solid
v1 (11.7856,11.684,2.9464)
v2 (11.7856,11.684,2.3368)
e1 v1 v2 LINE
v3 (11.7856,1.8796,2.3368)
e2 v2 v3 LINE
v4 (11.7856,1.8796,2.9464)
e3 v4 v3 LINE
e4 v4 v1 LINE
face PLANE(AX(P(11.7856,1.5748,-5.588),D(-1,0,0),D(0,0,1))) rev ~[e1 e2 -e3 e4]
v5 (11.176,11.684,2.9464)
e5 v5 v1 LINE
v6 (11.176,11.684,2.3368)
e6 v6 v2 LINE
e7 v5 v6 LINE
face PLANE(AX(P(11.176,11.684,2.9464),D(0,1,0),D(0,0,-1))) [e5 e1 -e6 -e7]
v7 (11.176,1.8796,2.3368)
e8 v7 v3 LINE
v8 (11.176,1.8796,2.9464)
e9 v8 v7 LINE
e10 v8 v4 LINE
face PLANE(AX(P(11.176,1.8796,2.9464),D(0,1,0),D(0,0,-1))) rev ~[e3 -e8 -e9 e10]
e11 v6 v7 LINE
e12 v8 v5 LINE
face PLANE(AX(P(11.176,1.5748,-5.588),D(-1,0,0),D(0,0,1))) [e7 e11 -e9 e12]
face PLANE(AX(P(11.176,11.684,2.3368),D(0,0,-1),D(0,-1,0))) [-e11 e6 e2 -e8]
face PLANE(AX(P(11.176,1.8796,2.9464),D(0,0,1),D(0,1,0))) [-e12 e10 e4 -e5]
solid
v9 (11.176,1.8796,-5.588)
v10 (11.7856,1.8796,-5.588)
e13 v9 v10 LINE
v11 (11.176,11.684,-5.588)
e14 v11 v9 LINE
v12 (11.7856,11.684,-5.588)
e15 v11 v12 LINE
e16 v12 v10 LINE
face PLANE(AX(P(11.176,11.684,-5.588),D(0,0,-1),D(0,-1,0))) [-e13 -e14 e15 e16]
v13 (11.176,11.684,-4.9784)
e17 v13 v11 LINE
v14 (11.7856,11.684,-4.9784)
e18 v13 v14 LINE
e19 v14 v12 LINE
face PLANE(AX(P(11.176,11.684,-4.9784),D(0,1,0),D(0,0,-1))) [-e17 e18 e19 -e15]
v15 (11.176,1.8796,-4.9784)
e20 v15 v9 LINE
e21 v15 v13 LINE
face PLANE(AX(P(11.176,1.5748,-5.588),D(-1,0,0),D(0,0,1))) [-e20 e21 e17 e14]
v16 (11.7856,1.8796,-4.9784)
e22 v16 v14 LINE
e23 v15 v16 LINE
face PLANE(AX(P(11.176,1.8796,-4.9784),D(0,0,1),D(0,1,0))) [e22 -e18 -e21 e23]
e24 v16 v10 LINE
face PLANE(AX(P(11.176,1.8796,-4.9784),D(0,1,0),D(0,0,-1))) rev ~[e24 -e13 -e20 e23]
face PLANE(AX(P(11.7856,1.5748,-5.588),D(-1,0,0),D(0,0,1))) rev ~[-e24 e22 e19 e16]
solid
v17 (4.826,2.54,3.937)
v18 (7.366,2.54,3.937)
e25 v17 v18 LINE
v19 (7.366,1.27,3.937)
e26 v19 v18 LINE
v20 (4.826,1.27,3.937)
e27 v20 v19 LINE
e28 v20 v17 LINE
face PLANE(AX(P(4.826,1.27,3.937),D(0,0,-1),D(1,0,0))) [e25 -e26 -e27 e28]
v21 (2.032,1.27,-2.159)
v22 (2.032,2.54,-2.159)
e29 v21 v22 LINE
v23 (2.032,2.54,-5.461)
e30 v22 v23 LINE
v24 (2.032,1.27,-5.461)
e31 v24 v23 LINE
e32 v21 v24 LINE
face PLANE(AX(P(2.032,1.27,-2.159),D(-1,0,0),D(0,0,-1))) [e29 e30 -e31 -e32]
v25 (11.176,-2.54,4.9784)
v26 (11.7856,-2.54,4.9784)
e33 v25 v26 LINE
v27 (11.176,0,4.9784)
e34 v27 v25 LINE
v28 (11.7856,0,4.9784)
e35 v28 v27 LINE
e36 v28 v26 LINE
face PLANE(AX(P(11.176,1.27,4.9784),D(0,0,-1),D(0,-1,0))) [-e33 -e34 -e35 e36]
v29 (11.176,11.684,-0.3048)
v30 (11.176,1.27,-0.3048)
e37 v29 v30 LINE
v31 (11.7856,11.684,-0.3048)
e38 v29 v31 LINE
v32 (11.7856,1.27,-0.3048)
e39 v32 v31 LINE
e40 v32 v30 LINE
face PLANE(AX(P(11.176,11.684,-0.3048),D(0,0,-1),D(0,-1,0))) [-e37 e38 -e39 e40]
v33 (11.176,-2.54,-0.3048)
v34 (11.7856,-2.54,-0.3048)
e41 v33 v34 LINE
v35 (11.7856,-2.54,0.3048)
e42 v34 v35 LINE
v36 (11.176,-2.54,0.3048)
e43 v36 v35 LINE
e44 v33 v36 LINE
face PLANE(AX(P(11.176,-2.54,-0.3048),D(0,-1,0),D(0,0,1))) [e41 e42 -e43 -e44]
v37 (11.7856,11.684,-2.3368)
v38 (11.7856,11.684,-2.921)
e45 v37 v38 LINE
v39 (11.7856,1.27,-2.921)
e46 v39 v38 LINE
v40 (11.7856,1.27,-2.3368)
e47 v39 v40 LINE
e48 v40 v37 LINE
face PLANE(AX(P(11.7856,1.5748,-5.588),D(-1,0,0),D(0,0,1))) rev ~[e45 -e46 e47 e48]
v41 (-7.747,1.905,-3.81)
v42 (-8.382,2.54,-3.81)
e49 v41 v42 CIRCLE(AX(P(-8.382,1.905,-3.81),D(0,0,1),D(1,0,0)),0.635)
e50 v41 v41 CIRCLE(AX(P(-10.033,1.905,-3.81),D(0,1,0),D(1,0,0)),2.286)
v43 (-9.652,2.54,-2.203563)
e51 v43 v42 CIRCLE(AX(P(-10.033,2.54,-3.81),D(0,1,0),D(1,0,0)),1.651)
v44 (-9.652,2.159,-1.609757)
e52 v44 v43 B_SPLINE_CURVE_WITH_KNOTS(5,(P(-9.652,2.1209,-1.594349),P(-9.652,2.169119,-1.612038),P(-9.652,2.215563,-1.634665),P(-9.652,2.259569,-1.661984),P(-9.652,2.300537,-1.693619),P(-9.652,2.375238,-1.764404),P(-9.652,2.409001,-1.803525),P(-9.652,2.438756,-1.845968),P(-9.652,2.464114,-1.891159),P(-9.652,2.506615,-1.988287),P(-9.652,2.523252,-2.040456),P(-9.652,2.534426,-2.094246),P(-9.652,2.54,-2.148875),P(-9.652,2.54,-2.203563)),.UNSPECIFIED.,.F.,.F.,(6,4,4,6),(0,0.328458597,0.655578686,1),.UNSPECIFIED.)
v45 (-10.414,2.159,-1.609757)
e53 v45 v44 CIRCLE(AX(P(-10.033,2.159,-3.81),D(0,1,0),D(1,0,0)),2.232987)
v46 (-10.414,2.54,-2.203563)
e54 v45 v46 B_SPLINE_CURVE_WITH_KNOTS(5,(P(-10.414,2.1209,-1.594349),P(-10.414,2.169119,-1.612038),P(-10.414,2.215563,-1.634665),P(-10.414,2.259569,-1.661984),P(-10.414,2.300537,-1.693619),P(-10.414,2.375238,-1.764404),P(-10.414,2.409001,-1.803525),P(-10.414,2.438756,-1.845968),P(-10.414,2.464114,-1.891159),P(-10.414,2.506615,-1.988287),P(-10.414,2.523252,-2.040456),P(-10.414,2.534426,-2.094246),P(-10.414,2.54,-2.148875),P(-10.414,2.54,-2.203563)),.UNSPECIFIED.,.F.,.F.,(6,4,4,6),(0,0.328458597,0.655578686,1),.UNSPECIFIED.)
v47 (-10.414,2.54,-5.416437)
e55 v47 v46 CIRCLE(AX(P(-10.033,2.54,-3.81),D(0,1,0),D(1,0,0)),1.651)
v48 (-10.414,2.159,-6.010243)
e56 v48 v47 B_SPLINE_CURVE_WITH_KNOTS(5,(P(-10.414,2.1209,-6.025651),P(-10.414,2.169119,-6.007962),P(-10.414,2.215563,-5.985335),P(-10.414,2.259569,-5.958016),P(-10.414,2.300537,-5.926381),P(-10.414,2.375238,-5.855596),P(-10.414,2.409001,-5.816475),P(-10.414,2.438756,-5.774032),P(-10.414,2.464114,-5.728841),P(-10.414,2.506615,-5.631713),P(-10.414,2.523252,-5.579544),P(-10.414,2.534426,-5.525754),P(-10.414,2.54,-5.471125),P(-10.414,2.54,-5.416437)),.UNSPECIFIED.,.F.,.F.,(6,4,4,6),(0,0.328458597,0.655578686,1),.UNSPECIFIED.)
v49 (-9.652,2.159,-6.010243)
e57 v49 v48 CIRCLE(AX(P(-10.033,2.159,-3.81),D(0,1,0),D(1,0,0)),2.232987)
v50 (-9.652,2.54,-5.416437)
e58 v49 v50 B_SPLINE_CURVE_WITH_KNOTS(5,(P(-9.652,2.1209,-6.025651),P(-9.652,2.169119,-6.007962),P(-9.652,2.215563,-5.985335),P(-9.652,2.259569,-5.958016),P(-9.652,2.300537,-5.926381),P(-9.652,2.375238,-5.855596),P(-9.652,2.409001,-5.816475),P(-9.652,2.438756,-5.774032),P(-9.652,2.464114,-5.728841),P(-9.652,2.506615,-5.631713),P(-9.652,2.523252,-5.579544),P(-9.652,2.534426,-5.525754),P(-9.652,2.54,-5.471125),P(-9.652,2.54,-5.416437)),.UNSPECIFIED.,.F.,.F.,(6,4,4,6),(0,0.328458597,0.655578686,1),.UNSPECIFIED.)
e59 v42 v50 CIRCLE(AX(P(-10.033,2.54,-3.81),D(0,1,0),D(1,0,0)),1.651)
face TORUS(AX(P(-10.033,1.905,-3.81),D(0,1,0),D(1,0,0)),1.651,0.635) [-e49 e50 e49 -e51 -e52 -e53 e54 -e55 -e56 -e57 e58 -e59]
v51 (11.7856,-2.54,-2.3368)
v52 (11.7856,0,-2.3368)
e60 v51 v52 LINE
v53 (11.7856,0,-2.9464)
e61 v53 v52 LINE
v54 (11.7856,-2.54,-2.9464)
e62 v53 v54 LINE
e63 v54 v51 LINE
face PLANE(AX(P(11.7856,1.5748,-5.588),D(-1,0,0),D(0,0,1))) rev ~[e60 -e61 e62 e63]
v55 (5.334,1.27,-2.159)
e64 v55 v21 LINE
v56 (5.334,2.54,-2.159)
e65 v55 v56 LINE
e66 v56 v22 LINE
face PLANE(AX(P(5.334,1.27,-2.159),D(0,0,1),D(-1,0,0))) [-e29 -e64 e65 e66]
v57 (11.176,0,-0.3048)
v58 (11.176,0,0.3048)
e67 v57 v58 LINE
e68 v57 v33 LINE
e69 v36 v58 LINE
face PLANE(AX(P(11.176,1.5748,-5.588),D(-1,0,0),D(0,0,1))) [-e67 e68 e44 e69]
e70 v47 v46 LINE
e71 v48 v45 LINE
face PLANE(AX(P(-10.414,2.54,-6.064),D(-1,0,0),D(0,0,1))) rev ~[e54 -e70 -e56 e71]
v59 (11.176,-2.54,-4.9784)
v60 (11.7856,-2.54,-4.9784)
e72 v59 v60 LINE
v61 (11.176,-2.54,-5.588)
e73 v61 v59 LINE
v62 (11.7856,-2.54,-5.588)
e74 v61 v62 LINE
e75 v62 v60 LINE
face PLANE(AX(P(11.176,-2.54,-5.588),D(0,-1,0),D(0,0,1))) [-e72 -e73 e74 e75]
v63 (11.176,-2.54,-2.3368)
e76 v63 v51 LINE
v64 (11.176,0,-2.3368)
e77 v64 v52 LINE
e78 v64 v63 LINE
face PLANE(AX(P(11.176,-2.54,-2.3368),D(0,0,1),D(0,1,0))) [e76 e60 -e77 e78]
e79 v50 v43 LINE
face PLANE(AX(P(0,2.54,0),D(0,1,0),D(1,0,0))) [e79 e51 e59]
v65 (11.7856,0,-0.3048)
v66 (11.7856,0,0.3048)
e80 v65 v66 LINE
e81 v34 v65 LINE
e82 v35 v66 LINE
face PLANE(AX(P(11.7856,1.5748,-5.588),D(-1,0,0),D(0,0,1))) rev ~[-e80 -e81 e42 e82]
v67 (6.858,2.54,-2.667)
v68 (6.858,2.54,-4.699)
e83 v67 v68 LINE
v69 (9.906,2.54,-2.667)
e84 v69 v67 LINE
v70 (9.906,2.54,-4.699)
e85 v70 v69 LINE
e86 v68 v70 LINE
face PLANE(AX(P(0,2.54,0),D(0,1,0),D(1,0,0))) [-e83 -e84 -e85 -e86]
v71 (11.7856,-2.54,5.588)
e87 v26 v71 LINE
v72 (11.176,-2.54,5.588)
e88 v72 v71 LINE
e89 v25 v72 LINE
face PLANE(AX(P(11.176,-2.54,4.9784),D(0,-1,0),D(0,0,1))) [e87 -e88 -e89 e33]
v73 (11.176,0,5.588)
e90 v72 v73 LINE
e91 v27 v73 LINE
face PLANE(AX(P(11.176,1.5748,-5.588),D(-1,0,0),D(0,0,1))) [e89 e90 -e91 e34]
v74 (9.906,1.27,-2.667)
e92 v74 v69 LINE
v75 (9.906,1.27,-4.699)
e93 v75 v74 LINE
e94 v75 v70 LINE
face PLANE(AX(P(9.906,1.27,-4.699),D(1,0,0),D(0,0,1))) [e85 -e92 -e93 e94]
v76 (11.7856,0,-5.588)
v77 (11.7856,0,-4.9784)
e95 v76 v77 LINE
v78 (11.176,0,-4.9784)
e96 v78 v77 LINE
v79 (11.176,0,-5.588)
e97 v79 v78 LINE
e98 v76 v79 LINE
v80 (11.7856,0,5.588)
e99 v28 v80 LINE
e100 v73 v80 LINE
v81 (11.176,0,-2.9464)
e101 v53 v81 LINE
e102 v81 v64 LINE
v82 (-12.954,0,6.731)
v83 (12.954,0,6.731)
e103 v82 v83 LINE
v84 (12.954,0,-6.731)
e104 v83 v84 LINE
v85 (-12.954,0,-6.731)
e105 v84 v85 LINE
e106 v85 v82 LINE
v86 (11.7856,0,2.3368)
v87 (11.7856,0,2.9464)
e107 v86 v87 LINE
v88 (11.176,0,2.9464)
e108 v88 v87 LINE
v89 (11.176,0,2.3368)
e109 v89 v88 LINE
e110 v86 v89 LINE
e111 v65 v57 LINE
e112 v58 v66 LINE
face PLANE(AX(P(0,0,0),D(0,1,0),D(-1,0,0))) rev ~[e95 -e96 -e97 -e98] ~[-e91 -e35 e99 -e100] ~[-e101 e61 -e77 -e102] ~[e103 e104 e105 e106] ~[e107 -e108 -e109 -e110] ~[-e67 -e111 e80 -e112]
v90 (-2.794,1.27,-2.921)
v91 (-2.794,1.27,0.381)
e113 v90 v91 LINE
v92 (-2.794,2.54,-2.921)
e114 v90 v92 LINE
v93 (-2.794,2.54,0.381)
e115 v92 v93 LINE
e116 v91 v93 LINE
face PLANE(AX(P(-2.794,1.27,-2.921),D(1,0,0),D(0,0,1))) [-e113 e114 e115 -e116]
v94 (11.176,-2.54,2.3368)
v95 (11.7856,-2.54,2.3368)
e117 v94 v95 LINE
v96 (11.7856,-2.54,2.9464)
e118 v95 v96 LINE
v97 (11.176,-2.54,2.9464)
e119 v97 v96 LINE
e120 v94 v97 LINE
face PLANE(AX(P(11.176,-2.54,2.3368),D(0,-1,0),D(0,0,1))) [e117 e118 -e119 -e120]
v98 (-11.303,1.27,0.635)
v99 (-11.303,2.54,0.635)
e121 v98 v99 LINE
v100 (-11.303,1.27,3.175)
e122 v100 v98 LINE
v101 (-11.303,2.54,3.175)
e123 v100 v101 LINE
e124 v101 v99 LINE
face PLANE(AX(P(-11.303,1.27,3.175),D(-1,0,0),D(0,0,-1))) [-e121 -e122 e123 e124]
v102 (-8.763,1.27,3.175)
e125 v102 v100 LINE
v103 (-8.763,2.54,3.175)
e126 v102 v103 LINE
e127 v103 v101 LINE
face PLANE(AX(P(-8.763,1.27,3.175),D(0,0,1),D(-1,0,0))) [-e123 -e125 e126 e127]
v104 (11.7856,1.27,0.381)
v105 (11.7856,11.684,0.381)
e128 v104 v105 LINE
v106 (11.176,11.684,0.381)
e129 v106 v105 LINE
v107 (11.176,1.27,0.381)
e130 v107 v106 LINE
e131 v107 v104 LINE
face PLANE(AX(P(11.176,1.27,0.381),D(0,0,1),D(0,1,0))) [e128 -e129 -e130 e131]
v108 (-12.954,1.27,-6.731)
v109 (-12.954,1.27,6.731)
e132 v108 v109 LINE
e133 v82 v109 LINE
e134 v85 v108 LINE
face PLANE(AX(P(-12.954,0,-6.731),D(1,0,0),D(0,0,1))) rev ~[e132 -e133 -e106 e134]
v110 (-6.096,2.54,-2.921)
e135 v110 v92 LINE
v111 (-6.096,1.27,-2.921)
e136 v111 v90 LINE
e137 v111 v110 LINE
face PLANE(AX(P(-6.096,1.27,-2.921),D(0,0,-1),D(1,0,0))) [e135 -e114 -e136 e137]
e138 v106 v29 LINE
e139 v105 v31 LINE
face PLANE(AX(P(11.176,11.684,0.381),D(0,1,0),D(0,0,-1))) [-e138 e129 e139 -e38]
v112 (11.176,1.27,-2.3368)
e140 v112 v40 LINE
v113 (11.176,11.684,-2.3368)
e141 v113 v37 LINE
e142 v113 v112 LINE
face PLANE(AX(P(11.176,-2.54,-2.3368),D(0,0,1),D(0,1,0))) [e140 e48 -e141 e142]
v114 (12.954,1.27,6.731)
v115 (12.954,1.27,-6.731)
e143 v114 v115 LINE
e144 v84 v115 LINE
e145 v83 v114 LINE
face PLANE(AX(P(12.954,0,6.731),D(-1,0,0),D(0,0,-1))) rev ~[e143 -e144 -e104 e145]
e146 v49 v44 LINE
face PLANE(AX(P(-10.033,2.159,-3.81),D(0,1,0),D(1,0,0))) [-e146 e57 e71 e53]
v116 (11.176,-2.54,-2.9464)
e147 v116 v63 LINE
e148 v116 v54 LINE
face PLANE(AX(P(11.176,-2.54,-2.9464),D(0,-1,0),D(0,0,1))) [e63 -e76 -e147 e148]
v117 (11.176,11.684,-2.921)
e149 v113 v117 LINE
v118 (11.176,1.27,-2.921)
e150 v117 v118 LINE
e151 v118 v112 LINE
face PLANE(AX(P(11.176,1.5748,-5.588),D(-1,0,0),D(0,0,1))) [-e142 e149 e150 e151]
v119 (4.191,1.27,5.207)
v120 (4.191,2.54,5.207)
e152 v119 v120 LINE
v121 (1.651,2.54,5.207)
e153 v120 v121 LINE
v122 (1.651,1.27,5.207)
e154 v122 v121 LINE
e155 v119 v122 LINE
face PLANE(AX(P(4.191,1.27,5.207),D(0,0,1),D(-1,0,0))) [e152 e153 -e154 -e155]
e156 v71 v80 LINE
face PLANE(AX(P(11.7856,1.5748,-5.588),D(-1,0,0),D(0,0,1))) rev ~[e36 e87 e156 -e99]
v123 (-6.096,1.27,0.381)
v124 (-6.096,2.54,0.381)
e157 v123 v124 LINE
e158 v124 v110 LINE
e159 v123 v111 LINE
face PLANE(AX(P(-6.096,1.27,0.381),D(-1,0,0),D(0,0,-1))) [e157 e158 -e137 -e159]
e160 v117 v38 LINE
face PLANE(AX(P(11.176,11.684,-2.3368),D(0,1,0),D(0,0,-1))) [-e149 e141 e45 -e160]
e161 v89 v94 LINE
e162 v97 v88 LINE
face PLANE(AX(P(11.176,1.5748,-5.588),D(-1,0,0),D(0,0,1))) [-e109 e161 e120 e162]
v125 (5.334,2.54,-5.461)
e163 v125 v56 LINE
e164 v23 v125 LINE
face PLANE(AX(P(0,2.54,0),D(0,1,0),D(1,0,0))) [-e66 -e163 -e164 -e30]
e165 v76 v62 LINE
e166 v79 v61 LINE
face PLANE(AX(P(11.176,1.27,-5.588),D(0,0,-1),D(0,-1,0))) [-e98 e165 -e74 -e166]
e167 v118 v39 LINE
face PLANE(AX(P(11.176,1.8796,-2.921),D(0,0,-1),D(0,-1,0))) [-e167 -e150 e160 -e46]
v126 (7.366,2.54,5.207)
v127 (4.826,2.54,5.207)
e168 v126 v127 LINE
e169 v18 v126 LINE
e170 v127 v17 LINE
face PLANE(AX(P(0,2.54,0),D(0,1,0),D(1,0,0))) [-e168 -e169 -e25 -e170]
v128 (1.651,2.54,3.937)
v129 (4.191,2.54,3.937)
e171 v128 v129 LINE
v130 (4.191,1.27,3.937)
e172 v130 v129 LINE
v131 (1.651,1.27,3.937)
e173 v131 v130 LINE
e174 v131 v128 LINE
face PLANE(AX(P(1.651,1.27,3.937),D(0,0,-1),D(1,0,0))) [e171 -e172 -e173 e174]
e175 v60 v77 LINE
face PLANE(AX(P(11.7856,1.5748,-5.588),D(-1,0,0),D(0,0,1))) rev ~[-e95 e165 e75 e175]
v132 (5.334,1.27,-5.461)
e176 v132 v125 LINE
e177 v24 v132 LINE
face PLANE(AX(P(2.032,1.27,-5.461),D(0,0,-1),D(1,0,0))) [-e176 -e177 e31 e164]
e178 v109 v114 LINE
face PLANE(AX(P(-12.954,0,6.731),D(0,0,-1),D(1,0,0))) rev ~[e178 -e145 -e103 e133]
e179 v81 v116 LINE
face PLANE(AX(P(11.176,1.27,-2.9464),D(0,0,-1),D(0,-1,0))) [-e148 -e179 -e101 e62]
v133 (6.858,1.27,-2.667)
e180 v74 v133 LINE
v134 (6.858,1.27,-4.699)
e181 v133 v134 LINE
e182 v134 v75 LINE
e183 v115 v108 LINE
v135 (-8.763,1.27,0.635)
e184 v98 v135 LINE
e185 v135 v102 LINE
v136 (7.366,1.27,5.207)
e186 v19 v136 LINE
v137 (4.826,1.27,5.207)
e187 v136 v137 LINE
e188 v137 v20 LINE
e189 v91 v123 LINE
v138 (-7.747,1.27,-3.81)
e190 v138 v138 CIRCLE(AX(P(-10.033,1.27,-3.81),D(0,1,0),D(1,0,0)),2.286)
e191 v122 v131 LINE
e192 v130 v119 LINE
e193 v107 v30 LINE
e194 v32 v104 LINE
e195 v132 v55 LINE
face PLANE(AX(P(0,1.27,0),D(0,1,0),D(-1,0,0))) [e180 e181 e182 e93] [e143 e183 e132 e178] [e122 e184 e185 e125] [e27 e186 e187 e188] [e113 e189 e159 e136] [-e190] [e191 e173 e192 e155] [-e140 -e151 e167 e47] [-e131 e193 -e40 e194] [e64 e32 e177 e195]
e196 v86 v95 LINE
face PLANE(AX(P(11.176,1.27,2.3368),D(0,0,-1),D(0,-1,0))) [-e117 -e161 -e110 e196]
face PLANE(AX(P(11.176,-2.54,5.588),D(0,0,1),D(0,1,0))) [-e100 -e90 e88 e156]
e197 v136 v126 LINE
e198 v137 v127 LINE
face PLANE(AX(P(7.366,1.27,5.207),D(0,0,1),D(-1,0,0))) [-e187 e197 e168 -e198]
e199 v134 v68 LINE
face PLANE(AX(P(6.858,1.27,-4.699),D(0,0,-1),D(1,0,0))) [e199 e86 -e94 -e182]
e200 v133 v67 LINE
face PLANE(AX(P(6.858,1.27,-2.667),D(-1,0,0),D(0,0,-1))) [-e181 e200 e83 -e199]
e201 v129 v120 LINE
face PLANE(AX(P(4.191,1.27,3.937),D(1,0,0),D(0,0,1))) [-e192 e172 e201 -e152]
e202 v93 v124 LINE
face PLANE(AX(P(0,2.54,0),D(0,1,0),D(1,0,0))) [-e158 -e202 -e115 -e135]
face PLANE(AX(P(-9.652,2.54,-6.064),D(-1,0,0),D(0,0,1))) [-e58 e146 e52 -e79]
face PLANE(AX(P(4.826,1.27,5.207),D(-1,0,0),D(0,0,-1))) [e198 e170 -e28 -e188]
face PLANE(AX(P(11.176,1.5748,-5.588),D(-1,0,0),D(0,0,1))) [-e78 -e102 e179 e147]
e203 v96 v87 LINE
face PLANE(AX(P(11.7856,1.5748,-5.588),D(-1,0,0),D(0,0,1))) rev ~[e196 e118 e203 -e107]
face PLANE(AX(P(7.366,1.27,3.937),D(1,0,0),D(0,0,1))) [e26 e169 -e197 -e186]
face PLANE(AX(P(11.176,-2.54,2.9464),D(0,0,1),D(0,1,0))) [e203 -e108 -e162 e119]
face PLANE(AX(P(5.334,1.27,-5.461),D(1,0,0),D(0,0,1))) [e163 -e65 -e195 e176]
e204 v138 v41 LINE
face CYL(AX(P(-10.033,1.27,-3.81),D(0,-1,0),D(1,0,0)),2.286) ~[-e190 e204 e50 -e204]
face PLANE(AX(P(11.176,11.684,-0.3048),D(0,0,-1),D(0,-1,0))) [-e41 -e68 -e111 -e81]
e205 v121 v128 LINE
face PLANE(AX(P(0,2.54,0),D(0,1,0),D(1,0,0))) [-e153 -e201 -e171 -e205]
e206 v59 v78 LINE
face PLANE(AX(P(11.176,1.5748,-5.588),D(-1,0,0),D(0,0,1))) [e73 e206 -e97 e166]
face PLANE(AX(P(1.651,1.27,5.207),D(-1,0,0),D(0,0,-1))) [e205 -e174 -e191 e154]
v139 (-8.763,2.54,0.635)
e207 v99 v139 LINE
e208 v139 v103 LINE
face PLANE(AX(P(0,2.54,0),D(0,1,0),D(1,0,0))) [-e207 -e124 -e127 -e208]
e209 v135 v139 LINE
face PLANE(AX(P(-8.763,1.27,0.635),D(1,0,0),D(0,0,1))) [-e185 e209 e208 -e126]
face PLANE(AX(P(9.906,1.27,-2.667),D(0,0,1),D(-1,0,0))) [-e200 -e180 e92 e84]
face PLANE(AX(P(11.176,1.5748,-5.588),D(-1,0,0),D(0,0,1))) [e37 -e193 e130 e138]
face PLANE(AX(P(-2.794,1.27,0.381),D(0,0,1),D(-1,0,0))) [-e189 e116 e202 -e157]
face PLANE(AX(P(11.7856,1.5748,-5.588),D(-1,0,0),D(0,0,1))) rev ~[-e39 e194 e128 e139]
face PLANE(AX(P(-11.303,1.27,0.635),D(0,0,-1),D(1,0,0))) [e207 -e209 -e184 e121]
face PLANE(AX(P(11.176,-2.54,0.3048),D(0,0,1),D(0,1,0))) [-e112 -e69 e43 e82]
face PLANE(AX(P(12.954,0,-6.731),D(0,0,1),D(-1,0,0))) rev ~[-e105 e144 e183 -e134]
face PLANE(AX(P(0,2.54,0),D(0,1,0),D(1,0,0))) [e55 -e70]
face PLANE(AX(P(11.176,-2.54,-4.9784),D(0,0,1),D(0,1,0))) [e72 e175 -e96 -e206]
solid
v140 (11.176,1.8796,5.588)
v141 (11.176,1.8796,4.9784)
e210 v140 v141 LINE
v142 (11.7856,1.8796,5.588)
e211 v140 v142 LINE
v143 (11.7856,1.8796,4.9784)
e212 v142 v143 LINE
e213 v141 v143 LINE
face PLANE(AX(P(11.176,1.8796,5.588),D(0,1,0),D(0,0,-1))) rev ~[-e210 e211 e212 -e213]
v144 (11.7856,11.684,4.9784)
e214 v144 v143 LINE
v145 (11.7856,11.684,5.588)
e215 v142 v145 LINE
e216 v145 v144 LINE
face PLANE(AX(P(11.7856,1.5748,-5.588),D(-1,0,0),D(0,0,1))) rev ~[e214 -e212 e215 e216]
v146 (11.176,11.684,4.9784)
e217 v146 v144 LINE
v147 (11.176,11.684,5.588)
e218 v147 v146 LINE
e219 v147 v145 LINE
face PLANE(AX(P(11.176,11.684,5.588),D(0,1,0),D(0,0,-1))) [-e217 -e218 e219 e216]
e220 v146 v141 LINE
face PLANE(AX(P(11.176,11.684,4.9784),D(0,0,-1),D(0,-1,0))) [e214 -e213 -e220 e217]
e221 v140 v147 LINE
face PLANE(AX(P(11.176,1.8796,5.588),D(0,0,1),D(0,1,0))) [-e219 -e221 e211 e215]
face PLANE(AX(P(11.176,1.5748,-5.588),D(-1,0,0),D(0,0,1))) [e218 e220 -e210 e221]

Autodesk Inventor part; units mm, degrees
ref_plane "YZ Plane" through (0, 0, 0) normal (1, 0, 0) x (0, 1, 0)
ref_plane "XZ Plane" through (0, 0, 0) normal (0, 1, 0) x (-1, 0, 0)
sketch "Sketch1" plane through (0, 0, 0) normal (0, 1, 0) x (-1, 0, 0)
  line L0 (12.954, 6.731) -> (-12.954, 6.731)
  line L1 (-12.954, 6.731) -> (-12.954, -6.731)
  line L2 (-12.954, -6.731) -> (12.954, -6.731)
  line L3 (12.954, -6.731) -> (12.954, 6.731)
  point P0 (0, 0)
  point P1 (12.954, 0)
  point P2 (0, -6.731)
  dimension "d0" = 25.908
  dimension "d1" = 13.462
extrude "Extrusion1" add sketch "Sketch1" along normal blind 1.27
sketch "Sketch2" plane through (0, 1.27, 0) normal (0, 1, 0) x (1, 0, 0)
  circle A0 centre (-10.033, 3.81) radius 2.286
  line L0 (-12.954, 6.731) -> (-12.954, -6.731) projected
  line L1 (-11.303, -0.635) -> (-8.763, -0.635)
  line L2 (-8.763, -0.635) -> (-8.763, -3.175)
  line L3 (-8.763, -3.175) -> (-11.303, -3.175)
  line L4 (-11.303, -3.175) -> (-11.303, -0.635)
  line L5 (-12.954, -6.731) -> (12.954, -6.731) projected
  line L6 (-6.096, 2.921) -> (-2.794, 2.921)
  line L7 (-2.794, 2.921) -> (-2.794, -0.381)
  line L8 (-2.794, -0.381) -> (-6.096, -0.381)
  line L9 (-6.096, -0.381) -> (-6.096, 2.921)
  line L10 (12.954, 6.731) -> (-12.954, 6.731) projected
  line L11 (2.032, 5.461) -> (5.334, 5.461)
  line L12 (5.334, 5.461) -> (5.334, 2.159)
  line L13 (5.334, 2.159) -> (2.032, 2.159)
  line L14 (2.032, 2.159) -> (2.032, 5.461)
  line L15 (12.954, -6.731) -> (12.954, 6.731) projected
  line L16 (6.858, 4.699) -> (9.906, 4.699)
  line L17 (9.906, 4.699) -> (9.906, 2.667)
  line L18 (9.906, 2.667) -> (6.858, 2.667)
  line L19 (6.858, 2.667) -> (6.858, 4.699)
  line L20 (1.651, -3.937) -> (4.191, -3.937)
  line L21 (4.191, -3.937) -> (4.191, -5.207)
  line L22 (4.191, -5.207) -> (1.651, -5.207)
  line L23 (1.651, -5.207) -> (1.651, -3.937)
  line L24 (4.826, -3.937) -> (7.366, -3.937)
  line L25 (7.366, -3.937) -> (7.366, -5.207)
  line L26 (7.366, -5.207) -> (4.826, -5.207)
  line L27 (4.826, -5.207) -> (4.826, -3.937)
  point P0 (0, 0)
  point P1 (-10.033, -0.635)
  dimension "d5" = 4.572
  dimension "d9" = 2.921
  dimension "d10" = 3.81
  dimension "d11" = 2.54
  dimension "d12" = 2.54
  dimension "d13" = 3.556
  dimension "d14" = 3.302
  dimension "d15" = 3.302
  dimension "d16" = 6.858
  dimension "d17" = 3.81
  dimension "d18" = 3.302
  dimension "d19" = 3.302
  dimension "d20" = 7.62
  dimension "d21" = 1.27
  dimension "d22" = 3.048
  dimension "d23" = 2.032
  dimension "d24" = 2.032
  dimension "d25" = 3.048
  dimension "d26" = 1.524
  dimension "d27" = 2.54
  dimension "d28" = 2.54
  dimension "d29" = 1.27
  dimension "d30" = 0.635
  dimension "d31" = 5.588
extrude "Extrusion2" add sketch "Sketch2" along normal blind 1.27 contours A0 | L1 L2 L3 L4 | L6 L7 L8 L9 | L11 L12 L13 L14 | L16 L17 L18 L19 | L20 L21 L22 L23 | L24 L25 L26 L27
fillet "Fillet1" radius 0.635 1 edges at (-12.319, 2.54, -3.81)
sketch "Sketch3" plane through (-10.033, 2.54, -3.81) normal (0, 1, 0) x (1, 0, 0)
  circle A0 centre (0, 0) radius 2.286 projected
  line L0 (-0.381, 2.254) -> (-0.381, -2.254)
  line L1 (0.381, 2.254) -> (0.381, -2.254)
  point P0 (10.033, -3.81)
  dimension "d35" = 0.762
  dimension "d36" = 0.381
extrude "Extrusion3" cut sketch "Sketch3" against normal blind 0.381 contours L1 A0 L0
ref_plane "Work Plane1" through (11.176, 1.5748, -5.588) normal (-1, 0, 0) x (0, 0, 1)
sketch "Sketch5" plane through (11.176, 1.5748, -5.588) normal (-1, 0, 0) x (0, 0, 1)
  line L0 (10.5664, -0.3048) -> (11.176, -0.3048) projected
  line L1 (10.5664, -0.3048) -> (10.5664, 0.3048) projected
  line L2 (11.176, 0.3048) -> (10.5664, 0.3048) projected
  line L3 (11.176, -0.3048) -> (11.176, 0.3048) projected
  line L4 (7.9248, -0.3048) -> (8.5344, -0.3048) projected
  line L5 (7.9248, -0.3048) -> (7.9248, 0.3048) projected
  line L6 (8.5344, 0.3048) -> (7.9248, 0.3048) projected
  line L7 (8.5344, -0.3048) -> (8.5344, 0.3048) projected
  line L8 (5.2832, -0.3048) -> (5.8928, -0.3048) projected
  line L9 (5.2832, -0.3048) -> (5.2832, 0.3048) projected
  line L10 (5.8928, 0.3048) -> (5.2832, 0.3048) projected
  line L11 (5.8928, -0.3048) -> (5.8928, 0.3048) projected
  line L12 (2.6416, -0.3048) -> (3.2512, -0.3048) projected
  line L13 (2.6416, -0.3048) -> (2.6416, 0.3048) projected
  line L14 (3.2512, 0.3048) -> (2.6416, 0.3048) projected
  line L15 (3.2512, -0.3048) -> (3.2512, 0.3048) projected
  line L16 (0, -0.3048) -> (0.6096, -0.3048) projected
  line L17 (0, -0.3048) -> (0, 0.3048) projected
  line L18 (0.6096, 0.3048) -> (0, 0.3048) projected
  line L19 (0.6096, -0.3048) -> (0.6096, 0.3048) projected
  line L20 (11.176, -0.3048) -> (10.5664, -0.3048)
  line L21 (10.5664, -0.3048) -> (10.5664, -4.1148)
  line L22 (10.5664, -4.1148) -> (11.176, -4.1148)
  line L23 (11.176, -4.1148) -> (11.176, -0.3048)
  line L24 (8.5344, -0.3048) -> (7.9248, -0.3048)
  line L25 (7.9248, -0.3048) -> (7.9248, -4.1148)
  line L26 (7.9248, -4.1148) -> (8.5344, -4.1148)
  line L27 (8.5344, -4.1148) -> (8.5344, -0.3048)
  line L28 (5.8928, -0.3048) -> (5.2832, -0.3048)
  line L29 (5.2832, -0.3048) -> (5.2832, -4.1148)
  line L30 (5.2832, -4.1148) -> (5.8928, -4.1148)
  line L31 (5.8928, -4.1148) -> (5.8928, -0.3048)
  line L32 (3.2512, -0.3048) -> (2.6416, -0.3048)
  line L33 (2.6416, -0.3048) -> (2.6416, -4.1148)
  line L34 (2.6416, -4.1148) -> (3.2512, -4.1148)
  line L35 (3.2512, -4.1148) -> (3.2512, -0.3048)
  line L36 (0.6096, -0.3048) -> (0, -0.3048)
  line L37 (0, -0.3048) -> (0, -4.1148)
  line L38 (0, -4.1148) -> (0.6096, -4.1148)
  line L39 (0.6096, -4.1148) -> (0.6096, -0.3048)
  line L40 (11.176, -0.3048) -> (11.176, 10.1092)
  line L41 (11.176, 10.1092) -> (10.5664, 10.1092)
  line L42 (10.5664, 10.1092) -> (10.5664, -0.3048)
  line L43 (8.5344, -0.3048) -> (8.5344, 10.1092)
  line L44 (8.5344, 10.1092) -> (7.9248, 10.1092)
  line L45 (7.9248, 10.1092) -> (7.9248, -0.3048)
  line L46 (5.969, -0.3048) -> (2.667, -0.3048) projected
  line L47 (5.969, -0.3048) -> (5.969, 10.1092)
  line L48 (5.969, 10.1092) -> (5.2832, 10.1092)
  line L49 (5.2832, 10.1092) -> (5.2832, -0.3048)
  line L50 (3.2512, -0.3048) -> (3.2512, 10.1092)
  line L51 (3.2512, 10.1092) -> (2.667, 10.1092)
  line L52 (2.667, 10.1092) -> (2.667, -0.3048)
  line L53 (-1.143, -0.3048) -> (12.319, -0.3048) projected
  line L54 (2.667, -0.3048) -> (0.6096, -0.3048)
  line L55 (0.6096, -0.3048) -> (0.6096, 10.1092)
  line L56 (0.6096, 10.1092) -> (0, 10.1092)
  line L57 (0, 10.1092) -> (0, -0.3048)
  point P0 (5.588, -1.5748)
  dimension "d56" = 3.81
  dimension "d62" = 0.6096
  dimension "d63" = 3.2512
  dimension "d64" = 5.8928
  dimension "d65" = 8.5344
  dimension "d66" = 11.176
  dimension "d70" = 10.414
extrude "Extrusion5" add sketch "Sketch5" against normal blind 0.6096 contours L0 L23 L22 L21 | L39 L38 L37 L16 | L35 L34 L33 L12 | L12 L52 L14 L15 | L46 L11 L10 L49 L48 L47 | L27 L26 L25 L4 | L42 L41 L40 L2 | L6 L45 L44 L43 | L31 L30 L29 L8 | L8 L9 L10 L11 | L14 L52 L51 L50 | L18 L57 L56 L55
equation "\"d12\" = d11"
equation "\"d15\" = d14"
equation "\"d18\" = d14"
equation "\"d19\" = d18"
equation "\"d28\" = d27"
equation "\"d36\" = 0.5 * d35"
properties part number "IMU"
